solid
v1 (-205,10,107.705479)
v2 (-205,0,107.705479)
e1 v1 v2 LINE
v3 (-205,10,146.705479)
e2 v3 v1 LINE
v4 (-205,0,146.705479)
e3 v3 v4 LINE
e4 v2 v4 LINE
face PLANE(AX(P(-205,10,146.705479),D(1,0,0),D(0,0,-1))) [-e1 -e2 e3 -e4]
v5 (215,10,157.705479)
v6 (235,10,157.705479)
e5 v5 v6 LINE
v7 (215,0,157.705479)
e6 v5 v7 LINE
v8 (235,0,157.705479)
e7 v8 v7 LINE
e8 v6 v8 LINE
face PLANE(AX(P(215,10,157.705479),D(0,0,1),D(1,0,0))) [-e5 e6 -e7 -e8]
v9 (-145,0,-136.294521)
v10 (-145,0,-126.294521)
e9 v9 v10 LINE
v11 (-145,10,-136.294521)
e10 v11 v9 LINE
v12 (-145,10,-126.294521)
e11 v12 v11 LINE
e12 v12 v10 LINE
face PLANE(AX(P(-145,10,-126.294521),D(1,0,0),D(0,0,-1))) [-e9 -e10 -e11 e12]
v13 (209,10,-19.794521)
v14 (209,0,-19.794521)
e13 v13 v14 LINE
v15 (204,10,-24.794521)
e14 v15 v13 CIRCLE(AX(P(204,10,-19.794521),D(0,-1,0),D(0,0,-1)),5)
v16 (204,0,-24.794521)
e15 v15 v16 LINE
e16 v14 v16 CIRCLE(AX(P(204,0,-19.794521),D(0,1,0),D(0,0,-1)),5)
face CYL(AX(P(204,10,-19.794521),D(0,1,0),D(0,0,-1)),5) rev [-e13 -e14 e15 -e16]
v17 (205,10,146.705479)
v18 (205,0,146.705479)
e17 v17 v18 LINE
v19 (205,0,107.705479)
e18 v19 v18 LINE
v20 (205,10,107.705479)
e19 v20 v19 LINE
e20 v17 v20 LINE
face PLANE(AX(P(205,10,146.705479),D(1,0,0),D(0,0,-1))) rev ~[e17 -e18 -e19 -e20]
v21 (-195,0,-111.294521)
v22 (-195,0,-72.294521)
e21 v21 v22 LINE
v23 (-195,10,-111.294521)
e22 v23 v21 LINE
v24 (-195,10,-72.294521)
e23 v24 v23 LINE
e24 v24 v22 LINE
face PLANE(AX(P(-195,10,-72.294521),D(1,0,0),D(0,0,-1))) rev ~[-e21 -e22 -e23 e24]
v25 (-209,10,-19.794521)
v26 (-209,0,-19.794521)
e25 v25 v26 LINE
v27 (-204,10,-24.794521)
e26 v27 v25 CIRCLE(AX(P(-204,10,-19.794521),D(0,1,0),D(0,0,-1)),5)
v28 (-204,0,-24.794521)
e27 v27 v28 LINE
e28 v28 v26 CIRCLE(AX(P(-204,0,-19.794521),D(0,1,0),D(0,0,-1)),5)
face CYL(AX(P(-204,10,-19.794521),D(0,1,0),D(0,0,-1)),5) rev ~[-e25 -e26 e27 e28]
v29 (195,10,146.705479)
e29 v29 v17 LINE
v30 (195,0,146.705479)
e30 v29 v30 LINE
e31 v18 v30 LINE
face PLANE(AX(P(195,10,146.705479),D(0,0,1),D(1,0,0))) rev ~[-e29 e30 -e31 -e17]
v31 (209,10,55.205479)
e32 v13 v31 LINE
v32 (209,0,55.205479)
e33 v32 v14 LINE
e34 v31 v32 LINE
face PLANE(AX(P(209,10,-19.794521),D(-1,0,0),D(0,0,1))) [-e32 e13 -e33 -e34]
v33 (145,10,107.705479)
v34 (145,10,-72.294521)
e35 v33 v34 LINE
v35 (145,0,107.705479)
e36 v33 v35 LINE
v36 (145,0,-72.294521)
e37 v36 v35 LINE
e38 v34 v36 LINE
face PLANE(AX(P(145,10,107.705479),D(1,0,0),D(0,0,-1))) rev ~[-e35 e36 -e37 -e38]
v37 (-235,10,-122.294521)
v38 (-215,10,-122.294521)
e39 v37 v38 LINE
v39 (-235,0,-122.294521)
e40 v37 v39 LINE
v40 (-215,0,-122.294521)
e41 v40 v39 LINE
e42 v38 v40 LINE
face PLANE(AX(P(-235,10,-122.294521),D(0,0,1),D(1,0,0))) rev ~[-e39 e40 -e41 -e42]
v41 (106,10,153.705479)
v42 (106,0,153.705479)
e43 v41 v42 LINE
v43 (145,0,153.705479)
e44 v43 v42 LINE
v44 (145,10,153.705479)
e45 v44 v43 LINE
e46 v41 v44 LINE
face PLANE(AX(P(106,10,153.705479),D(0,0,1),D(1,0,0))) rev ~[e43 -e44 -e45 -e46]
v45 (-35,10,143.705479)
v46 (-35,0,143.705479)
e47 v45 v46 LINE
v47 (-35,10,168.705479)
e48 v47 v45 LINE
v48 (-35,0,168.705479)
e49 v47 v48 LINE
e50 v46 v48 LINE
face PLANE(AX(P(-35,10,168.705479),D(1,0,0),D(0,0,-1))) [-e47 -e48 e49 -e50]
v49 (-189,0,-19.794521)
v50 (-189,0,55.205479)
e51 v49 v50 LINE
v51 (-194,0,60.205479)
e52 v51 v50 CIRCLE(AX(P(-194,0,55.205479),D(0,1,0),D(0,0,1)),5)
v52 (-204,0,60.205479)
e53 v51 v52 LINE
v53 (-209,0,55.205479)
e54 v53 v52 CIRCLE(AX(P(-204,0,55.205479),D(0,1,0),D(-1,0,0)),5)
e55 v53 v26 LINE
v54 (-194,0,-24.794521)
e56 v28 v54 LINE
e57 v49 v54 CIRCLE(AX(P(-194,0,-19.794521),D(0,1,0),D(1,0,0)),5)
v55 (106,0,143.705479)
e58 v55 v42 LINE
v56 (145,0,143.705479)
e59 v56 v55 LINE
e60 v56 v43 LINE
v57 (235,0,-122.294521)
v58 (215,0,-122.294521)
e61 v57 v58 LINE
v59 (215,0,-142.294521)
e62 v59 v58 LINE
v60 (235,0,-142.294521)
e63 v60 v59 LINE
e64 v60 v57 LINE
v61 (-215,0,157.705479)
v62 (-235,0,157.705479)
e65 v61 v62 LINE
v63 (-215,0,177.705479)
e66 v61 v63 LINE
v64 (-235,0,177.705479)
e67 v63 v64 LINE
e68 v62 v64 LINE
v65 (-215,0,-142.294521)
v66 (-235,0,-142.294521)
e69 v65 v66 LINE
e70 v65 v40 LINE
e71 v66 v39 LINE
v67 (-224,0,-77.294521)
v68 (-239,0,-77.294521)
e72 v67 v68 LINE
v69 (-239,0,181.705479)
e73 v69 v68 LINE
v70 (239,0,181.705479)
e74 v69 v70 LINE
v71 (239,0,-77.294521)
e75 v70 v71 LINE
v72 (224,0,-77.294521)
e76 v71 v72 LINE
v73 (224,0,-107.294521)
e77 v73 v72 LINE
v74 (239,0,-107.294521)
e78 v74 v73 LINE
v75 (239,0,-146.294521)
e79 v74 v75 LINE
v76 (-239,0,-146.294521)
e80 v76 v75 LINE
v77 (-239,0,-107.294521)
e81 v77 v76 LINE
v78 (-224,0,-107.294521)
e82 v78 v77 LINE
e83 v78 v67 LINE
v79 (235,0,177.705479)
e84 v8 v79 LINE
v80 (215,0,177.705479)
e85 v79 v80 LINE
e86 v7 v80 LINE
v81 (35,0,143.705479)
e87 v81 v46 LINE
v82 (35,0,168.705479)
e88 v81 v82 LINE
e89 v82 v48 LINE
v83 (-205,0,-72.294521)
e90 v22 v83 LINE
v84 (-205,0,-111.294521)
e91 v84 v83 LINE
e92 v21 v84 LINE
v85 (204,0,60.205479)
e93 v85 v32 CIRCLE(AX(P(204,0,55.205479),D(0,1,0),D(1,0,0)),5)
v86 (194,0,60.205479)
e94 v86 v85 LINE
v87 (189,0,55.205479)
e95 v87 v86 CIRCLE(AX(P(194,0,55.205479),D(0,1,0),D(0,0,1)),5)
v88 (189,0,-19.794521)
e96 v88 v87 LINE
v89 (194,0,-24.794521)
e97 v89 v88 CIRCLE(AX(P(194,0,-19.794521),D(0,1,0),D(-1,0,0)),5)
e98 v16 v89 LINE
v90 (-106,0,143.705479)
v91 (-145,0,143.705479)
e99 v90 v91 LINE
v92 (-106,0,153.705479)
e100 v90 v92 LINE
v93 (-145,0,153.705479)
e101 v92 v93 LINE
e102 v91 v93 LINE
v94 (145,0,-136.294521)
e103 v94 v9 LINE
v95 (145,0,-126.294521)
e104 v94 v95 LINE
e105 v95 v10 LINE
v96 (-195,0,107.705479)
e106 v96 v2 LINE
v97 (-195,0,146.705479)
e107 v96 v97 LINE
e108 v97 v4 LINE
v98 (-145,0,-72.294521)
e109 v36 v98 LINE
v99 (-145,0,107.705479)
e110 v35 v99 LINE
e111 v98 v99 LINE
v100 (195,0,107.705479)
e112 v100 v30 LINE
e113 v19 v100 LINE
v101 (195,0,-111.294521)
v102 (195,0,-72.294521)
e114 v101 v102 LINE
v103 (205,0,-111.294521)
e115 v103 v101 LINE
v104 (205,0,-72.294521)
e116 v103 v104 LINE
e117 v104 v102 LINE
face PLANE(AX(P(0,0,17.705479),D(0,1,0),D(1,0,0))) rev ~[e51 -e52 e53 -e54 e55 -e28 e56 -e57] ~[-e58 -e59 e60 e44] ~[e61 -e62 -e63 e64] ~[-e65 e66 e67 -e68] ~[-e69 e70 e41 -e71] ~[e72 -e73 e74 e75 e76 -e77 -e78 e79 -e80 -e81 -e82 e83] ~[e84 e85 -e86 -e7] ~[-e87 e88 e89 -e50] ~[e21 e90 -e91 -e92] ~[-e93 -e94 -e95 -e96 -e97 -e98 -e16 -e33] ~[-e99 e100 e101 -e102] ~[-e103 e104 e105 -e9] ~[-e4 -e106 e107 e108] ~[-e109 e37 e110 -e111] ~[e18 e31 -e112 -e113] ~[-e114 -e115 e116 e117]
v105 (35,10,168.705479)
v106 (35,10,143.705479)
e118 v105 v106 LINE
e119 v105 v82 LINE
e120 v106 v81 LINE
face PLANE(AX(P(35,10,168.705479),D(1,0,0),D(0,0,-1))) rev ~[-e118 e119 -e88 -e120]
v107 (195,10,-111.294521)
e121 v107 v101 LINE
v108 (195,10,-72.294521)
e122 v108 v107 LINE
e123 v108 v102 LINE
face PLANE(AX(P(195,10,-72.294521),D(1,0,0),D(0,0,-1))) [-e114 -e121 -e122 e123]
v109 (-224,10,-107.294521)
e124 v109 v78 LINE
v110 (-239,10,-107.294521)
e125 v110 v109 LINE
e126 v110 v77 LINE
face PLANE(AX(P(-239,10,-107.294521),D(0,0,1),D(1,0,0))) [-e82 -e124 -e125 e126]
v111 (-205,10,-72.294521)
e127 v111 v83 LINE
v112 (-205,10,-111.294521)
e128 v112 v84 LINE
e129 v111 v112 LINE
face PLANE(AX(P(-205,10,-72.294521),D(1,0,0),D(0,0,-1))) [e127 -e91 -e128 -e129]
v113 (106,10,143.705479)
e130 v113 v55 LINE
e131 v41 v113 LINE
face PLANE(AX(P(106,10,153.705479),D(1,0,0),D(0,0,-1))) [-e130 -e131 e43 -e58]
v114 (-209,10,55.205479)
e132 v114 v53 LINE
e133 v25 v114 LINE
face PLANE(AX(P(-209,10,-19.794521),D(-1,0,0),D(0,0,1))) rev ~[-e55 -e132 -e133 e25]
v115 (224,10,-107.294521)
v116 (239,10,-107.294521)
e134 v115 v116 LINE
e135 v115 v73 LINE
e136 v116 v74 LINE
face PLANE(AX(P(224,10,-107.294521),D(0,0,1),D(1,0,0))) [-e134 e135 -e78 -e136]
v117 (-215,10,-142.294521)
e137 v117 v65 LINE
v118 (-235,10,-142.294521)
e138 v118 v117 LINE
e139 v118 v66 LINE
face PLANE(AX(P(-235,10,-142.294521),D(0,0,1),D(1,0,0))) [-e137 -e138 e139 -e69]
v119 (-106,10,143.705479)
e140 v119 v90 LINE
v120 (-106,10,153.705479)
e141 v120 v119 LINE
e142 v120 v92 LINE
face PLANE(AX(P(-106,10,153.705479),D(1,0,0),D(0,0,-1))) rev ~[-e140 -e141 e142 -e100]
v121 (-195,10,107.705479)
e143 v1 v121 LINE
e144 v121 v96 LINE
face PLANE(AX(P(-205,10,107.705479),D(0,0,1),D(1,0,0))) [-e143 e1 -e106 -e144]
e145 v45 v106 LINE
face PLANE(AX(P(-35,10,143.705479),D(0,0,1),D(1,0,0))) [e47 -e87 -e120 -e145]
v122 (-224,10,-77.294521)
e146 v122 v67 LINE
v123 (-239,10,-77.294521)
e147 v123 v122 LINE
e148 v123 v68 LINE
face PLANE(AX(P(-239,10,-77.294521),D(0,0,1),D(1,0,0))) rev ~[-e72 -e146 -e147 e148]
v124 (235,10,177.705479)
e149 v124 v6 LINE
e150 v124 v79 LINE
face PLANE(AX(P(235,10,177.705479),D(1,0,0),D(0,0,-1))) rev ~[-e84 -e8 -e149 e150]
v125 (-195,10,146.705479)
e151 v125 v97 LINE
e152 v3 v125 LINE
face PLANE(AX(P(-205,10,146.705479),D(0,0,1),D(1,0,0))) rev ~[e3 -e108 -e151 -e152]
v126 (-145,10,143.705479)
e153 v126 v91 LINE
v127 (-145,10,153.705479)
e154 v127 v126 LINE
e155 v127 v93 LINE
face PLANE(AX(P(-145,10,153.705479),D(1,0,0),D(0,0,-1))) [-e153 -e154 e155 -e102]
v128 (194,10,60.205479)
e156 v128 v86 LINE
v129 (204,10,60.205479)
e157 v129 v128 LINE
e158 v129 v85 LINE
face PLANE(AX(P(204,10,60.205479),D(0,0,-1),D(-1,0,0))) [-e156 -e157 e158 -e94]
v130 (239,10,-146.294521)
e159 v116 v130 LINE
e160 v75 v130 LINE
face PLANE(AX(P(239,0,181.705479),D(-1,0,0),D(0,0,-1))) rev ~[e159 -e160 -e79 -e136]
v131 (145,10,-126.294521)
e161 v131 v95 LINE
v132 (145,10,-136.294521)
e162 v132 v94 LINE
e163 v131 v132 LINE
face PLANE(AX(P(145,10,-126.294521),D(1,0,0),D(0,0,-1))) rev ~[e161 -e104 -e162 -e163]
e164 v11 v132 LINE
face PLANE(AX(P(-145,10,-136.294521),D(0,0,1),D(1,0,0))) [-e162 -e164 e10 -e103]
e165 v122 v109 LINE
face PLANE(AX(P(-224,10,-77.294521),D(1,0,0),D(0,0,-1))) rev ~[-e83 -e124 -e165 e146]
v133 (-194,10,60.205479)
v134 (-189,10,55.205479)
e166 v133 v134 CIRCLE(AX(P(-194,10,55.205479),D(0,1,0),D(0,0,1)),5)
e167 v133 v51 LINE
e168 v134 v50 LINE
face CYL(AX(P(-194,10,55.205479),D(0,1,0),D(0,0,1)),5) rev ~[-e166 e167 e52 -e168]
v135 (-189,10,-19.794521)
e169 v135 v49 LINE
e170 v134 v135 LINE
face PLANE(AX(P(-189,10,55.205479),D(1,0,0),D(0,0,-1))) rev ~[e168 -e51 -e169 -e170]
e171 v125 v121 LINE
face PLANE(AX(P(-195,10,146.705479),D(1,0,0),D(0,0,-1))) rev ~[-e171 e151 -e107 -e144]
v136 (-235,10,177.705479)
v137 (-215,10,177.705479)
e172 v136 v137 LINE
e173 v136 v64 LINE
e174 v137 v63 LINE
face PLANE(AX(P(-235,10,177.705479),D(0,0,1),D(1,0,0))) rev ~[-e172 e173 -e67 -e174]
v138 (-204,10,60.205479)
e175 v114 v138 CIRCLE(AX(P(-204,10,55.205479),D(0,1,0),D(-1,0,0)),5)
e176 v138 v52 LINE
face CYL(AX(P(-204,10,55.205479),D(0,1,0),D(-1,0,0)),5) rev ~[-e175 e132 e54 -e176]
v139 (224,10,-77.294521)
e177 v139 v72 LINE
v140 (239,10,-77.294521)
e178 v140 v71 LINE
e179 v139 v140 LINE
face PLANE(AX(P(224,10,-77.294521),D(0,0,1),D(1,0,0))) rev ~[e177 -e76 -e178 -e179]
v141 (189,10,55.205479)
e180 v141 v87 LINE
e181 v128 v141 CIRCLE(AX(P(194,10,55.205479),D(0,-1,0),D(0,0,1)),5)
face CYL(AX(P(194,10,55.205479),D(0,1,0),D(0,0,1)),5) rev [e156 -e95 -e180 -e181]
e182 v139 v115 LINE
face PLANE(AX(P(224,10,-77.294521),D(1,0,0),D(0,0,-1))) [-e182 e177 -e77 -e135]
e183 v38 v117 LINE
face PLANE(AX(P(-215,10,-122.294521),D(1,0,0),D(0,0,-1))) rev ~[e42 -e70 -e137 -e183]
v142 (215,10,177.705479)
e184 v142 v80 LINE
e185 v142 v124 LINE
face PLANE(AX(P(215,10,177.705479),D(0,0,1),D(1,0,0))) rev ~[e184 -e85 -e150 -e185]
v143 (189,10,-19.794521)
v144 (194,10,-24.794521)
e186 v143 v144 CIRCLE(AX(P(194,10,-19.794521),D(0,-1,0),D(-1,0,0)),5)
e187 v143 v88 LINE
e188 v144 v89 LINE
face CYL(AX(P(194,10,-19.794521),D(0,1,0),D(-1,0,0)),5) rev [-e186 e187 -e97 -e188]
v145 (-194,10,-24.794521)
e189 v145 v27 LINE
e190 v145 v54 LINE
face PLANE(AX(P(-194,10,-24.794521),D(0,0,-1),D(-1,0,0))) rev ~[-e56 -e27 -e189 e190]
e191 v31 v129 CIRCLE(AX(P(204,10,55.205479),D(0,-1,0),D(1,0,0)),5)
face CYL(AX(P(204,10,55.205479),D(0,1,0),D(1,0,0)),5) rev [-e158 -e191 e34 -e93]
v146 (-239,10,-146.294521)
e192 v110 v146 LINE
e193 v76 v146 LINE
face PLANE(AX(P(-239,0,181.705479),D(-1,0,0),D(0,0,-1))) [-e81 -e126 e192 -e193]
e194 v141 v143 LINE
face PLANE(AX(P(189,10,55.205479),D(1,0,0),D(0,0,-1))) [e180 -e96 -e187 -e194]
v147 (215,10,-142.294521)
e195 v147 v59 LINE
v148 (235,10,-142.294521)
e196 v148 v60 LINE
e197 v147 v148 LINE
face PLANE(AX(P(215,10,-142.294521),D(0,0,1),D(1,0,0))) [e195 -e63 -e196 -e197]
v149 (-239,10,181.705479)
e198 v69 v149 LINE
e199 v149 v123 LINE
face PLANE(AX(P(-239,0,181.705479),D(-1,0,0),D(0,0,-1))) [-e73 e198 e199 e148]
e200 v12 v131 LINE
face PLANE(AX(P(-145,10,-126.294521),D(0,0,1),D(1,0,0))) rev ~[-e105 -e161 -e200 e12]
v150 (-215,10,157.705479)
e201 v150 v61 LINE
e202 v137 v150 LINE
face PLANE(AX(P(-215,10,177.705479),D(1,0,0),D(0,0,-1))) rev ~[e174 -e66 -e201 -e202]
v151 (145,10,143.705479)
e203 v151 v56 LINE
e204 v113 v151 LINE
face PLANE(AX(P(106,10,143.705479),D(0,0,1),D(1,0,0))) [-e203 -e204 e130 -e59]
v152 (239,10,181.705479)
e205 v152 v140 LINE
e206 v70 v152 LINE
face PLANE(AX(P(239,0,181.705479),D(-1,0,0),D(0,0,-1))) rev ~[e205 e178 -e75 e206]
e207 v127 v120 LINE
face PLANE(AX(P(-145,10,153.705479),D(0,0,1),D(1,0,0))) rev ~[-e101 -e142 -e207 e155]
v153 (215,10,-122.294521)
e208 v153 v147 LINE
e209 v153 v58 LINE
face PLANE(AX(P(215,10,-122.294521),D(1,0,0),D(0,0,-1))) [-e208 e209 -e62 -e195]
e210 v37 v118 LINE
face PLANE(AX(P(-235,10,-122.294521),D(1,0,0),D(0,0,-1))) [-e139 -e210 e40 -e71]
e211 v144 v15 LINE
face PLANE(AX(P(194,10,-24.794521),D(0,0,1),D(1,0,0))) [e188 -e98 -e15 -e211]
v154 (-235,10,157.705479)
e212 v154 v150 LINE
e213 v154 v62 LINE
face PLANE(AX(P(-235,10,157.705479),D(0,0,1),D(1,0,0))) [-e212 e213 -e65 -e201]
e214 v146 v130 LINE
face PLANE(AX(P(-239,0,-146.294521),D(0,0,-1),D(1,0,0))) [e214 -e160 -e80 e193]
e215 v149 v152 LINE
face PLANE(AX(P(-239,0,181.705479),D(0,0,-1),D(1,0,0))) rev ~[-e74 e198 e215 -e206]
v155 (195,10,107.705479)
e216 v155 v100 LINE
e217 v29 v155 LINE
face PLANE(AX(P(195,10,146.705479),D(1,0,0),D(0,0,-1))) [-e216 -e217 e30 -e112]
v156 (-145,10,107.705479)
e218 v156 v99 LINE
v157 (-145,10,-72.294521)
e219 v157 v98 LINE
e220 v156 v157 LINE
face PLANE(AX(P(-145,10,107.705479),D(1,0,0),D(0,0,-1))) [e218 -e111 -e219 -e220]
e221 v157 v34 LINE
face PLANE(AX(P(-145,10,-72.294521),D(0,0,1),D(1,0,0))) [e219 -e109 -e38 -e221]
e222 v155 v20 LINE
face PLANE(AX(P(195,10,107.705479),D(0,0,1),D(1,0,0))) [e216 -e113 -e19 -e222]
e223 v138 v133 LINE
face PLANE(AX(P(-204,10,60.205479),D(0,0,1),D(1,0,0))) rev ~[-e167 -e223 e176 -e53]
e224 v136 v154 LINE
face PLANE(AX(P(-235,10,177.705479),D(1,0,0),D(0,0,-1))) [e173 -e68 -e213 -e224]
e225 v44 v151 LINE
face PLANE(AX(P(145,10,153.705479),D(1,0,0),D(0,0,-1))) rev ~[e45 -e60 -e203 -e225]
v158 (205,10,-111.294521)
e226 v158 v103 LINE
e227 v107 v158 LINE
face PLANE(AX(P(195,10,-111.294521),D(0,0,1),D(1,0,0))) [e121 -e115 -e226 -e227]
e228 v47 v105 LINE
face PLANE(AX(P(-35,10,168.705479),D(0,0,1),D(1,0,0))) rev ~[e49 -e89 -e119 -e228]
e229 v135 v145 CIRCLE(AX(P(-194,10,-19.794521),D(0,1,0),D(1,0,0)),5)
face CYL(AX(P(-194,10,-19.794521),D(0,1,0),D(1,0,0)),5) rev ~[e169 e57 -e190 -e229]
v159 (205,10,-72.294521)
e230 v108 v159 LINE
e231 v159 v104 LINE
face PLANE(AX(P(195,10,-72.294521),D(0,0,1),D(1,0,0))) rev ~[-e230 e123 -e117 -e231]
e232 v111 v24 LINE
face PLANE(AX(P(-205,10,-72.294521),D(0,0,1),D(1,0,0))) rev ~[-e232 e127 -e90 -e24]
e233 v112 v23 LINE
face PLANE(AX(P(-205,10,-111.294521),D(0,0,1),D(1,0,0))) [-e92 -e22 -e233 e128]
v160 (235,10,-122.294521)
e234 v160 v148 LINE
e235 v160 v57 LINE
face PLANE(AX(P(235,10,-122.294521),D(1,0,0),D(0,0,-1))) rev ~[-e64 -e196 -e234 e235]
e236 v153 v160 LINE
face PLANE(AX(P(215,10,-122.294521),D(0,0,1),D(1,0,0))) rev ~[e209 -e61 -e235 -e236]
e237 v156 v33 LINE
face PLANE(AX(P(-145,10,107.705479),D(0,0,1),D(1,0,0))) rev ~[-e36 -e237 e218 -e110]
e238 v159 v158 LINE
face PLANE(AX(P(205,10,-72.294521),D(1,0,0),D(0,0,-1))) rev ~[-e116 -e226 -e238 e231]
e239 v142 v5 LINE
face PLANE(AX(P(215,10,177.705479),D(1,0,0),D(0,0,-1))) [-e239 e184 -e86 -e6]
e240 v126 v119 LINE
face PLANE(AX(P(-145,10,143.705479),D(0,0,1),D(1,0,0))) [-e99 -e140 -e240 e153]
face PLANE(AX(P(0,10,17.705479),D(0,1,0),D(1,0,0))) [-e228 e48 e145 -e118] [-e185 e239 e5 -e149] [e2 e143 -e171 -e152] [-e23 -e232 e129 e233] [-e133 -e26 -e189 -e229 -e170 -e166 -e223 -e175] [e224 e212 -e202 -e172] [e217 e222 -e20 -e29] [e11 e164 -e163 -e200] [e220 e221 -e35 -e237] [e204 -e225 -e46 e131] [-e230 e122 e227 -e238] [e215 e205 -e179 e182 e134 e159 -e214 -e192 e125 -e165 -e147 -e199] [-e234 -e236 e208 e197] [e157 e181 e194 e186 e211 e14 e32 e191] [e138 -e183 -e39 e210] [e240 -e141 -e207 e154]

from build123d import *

# Parameters (mm, degrees)
SKETCH1_W           = 478
SKETCH1_H           = 328
BOSS_EXTRUDE1_DEPTH = 10
CUT_EXTRUDE1_REACH  = 302.396
SKETCH2_W           = 20
SKETCH2_H           = 20
CUT_EXTRUDE2_REACH  = 302.396
SKETCH3_W           = 290
SKETCH3_H           = 10
SKETCH3_W_2         = 10
SKETCH3_H_2         = 39
SKETCH3_W_3         = 39
SKETCH3_W_4         = 70
SKETCH3_H_3         = 25
SKETCH3_H_4         = 180
SKETCH3_W_5         = 15
SKETCH3_H_5         = 30


with BuildPart() as part:
    # Sketch1 → Boss-Extrude1 (new body)
    with BuildSketch(Plane(origin=(0, 0, 0), x_dir=(1, 0, 0), z_dir=(0, 1, 0))):
        with Locations((0, -17.705479187)):
            Rectangle(SKETCH1_W, SKETCH1_H)
    extrude(amount=BOSS_EXTRUDE1_DEPTH)

    # Sketch2 → Cut-Extrude1 (cut, up to next)
    with BuildSketch(Plane(origin=(0, 10, 0), x_dir=(1, 0, 0), z_dir=(0, 1, 0)), mode=Mode.PRIVATE) as cut_extrude1_sk1:
        with Locations((-225, 132.294520813)):
            Rectangle(SKETCH2_W, SKETCH2_H)
    cut_extrude1_tool1 = extrude(cut_extrude1_sk1.sketch, amount=-CUT_EXTRUDE1_REACH, mode=Mode.PRIVATE) & part.part
    # Sketch2 → Cut-Extrude1 (cut, up to next)
    with BuildSketch(Plane(origin=(0, 10, 0), x_dir=(1, 0, 0), z_dir=(0, 1, 0)), mode=Mode.PRIVATE) as cut_extrude1_sk2:
        with Locations((-225, -167.705479187)):
            Rectangle(SKETCH2_W, SKETCH2_H)
    cut_extrude1_tool2 = extrude(cut_extrude1_sk2.sketch, amount=-CUT_EXTRUDE1_REACH, mode=Mode.PRIVATE) & part.part
    # Sketch2 → Cut-Extrude1 (cut, up to next)
    with BuildSketch(Plane(origin=(0, 10, 0), x_dir=(1, 0, 0), z_dir=(0, 1, 0)), mode=Mode.PRIVATE) as cut_extrude1_sk3:
        with Locations((225, 132.294520813)):
            Rectangle(SKETCH2_W, SKETCH2_H)
    cut_extrude1_tool3 = extrude(cut_extrude1_sk3.sketch, amount=-CUT_EXTRUDE1_REACH, mode=Mode.PRIVATE) & part.part
    # Sketch2 → Cut-Extrude1 (cut, up to next)
    with BuildSketch(Plane(origin=(0, 10, 0), x_dir=(1, 0, 0), z_dir=(0, 1, 0)), mode=Mode.PRIVATE) as cut_extrude1_sk4:
        with Locations((225, -167.705479187)):
            Rectangle(SKETCH2_W, SKETCH2_H)
    cut_extrude1_tool4 = extrude(cut_extrude1_sk4.sketch, amount=-CUT_EXTRUDE1_REACH, mode=Mode.PRIVATE) & part.part
    add(cut_extrude1_tool1.solids().sort_by_distance((-225, 10, -132.294521))[0], mode=Mode.SUBTRACT)
    add(cut_extrude1_tool2.solids().sort_by_distance((-225, 10, 167.705479))[0], mode=Mode.SUBTRACT)
    add(cut_extrude1_tool3.solids().sort_by_distance((225, 10, -132.294521))[0], mode=Mode.SUBTRACT)
    add(cut_extrude1_tool4.solids().sort_by_distance((225, 10, 167.705479))[0], mode=Mode.SUBTRACT)

    # Sketch3 → Cut-Extrude2 (cut, up to next)
    with BuildSketch(Plane(origin=(0, 10, 0), x_dir=(1, 0, 0), z_dir=(0, 1, 0)), mode=Mode.PRIVATE) as cut_extrude2_sk1:
        with Locations((0, 131.294520813)):
            Rectangle(SKETCH3_W, SKETCH3_H)
    cut_extrude2_tool1 = extrude(cut_extrude2_sk1.sketch, amount=-CUT_EXTRUDE2_REACH, mode=Mode.PRIVATE) & part.part
    # Sketch3 → Cut-Extrude2 (cut, up to next)
    with BuildSketch(Plane(origin=(0, 10, 0), x_dir=(1, 0, 0), z_dir=(0, 1, 0)), mode=Mode.PRIVATE) as cut_extrude2_sk2:
        with Locations((-200, 91.794520813)):
            Rectangle(SKETCH3_W_2, SKETCH3_H_2)
    cut_extrude2_tool2 = extrude(cut_extrude2_sk2.sketch, amount=-CUT_EXTRUDE2_REACH, mode=Mode.PRIVATE) & part.part
    # Sketch3 → Cut-Extrude2 (cut, up to next)
    with BuildSketch(Plane(origin=(0, 10, 0), x_dir=(1, 0, 0), z_dir=(0, 1, 0)), mode=Mode.PRIVATE) as cut_extrude2_sk3:
        with Locations((200, 91.794520813)):
            Rectangle(SKETCH3_W_2, SKETCH3_H_2)
    cut_extrude2_tool3 = extrude(cut_extrude2_sk3.sketch, amount=-CUT_EXTRUDE2_REACH, mode=Mode.PRIVATE) & part.part
    # Sketch3 → Cut-Extrude2 (cut, up to next)
    with BuildSketch(Plane(origin=(0, 10, 0), x_dir=(1, 0, 0), z_dir=(0, 1, 0)), mode=Mode.PRIVATE) as cut_extrude2_sk4:
        with Locations((200, -127.205479187)):
            Rectangle(SKETCH3_W_2, SKETCH3_H_2)
    cut_extrude2_tool4 = extrude(cut_extrude2_sk4.sketch, amount=-CUT_EXTRUDE2_REACH, mode=Mode.PRIVATE) & part.part
    # Sketch3 → Cut-Extrude2 (cut, up to next)
    with BuildSketch(Plane(origin=(0, 10, 0), x_dir=(1, 0, 0), z_dir=(0, 1, 0)), mode=Mode.PRIVATE) as cut_extrude2_sk5:
        with Locations((-200, -127.205479187)):
            Rectangle(SKETCH3_W_2, SKETCH3_H_2)
    cut_extrude2_tool5 = extrude(cut_extrude2_sk5.sketch, amount=-CUT_EXTRUDE2_REACH, mode=Mode.PRIVATE) & part.part
    # Sketch3 → Cut-Extrude2 (cut, up to next)
    with BuildSketch(Plane(origin=(0, 10, 0), x_dir=(1, 0, 0), z_dir=(0, 1, 0)), mode=Mode.PRIVATE) as cut_extrude2_sk6:
        with Locations((-125.5, -148.705479187)):
            Rectangle(SKETCH3_W_3, SKETCH3_H)
    cut_extrude2_tool6 = extrude(cut_extrude2_sk6.sketch, amount=-CUT_EXTRUDE2_REACH, mode=Mode.PRIVATE) & part.part
    # Sketch3 → Cut-Extrude2 (cut, up to next)
    with BuildSketch(Plane(origin=(0, 10, 0), x_dir=(1, 0, 0), z_dir=(0, 1, 0)), mode=Mode.PRIVATE) as cut_extrude2_sk7:
        with Locations((125.5, -148.705479187)):
            Rectangle(SKETCH3_W_3, SKETCH3_H)
    cut_extrude2_tool7 = extrude(cut_extrude2_sk7.sketch, amount=-CUT_EXTRUDE2_REACH, mode=Mode.PRIVATE) & part.part
    # Sketch3 → Cut-Extrude2 (cut, up to next)
    with BuildSketch(Plane(origin=(0, 10, 0), x_dir=(1, 0, 0), z_dir=(0, 1, 0)), mode=Mode.PRIVATE) as cut_extrude2_sk8:
        with Locations((0, -156.205479187)):
            Rectangle(SKETCH3_W_4, SKETCH3_H_3)
    cut_extrude2_tool8 = extrude(cut_extrude2_sk8.sketch, amount=-CUT_EXTRUDE2_REACH, mode=Mode.PRIVATE) & part.part
    # Sketch3 → Cut-Extrude2 (cut, up to next)
    with BuildSketch(Plane(origin=(0, 10, 0), x_dir=(1, 0, 0), z_dir=(0, 1, 0)), mode=Mode.PRIVATE) as cut_extrude2_sk9:
        with BuildLine():
            Line((-204, -60.205479187), (-194, -60.205479187))
            ThreePointArc((-194, -60.205479187), (-190.464466094, -58.741013093), (-189, -55.205479187))
            Line((-189, -55.205479187), (-189, 19.794520813))
            ThreePointArc((-189, 19.794520813), (-190.464466094, 23.330054719), (-194, 24.794520813))
            Line((-194, 24.794520813), (-204, 24.794520813))
            ThreePointArc((-204, 24.794520813), (-207.535533906, 23.330054719), (-209, 19.794520813))
            Line((-209, 19.794520813), (-209, -55.205479187))
            ThreePointArc((-209, -55.205479187), (-207.535533906, -58.741013093), (-204, -60.205479187))
        make_face()
    cut_extrude2_tool9 = extrude(cut_extrude2_sk9.sketch, amount=-CUT_EXTRUDE2_REACH, mode=Mode.PRIVATE) & part.part
    # Sketch3 → Cut-Extrude2 (cut, up to next)
    with BuildSketch(Plane(origin=(0, 10, 0), x_dir=(1, 0, 0), z_dir=(0, 1, 0)), mode=Mode.PRIVATE) as cut_extrude2_sk10:
        with BuildLine():
            Line((189, -55.205479187), (189, 19.794520813))
            ThreePointArc((189, 19.794520813), (190.464466094, 23.330054719), (194, 24.794520813))
            Line((194, 24.794520813), (204, 24.794520813))
            ThreePointArc((204, 24.794520813), (207.535533906, 23.330054719), (209, 19.794520813))
            Line((209, 19.794520813), (209, -55.205479187))
            ThreePointArc((209, -55.205479187), (207.535533906, -58.741013093), (204, -60.205479187))
            Line((204, -60.205479187), (194, -60.205479187))
            ThreePointArc((194, -60.205479187), (190.464466094, -58.741013093), (189, -55.205479187))
        make_face()
    cut_extrude2_tool10 = extrude(cut_extrude2_sk10.sketch, amount=-CUT_EXTRUDE2_REACH, mode=Mode.PRIVATE) & part.part
    # Sketch3 → Cut-Extrude2 (cut, up to next)
    with BuildSketch(Plane(origin=(0, 10, 0), x_dir=(1, 0, 0), z_dir=(0, 1, 0)), mode=Mode.PRIVATE) as cut_extrude2_sk11:
        with Locations((0, -17.705479187)):
            Rectangle(SKETCH3_W, SKETCH3_H_4)
    cut_extrude2_tool11 = extrude(cut_extrude2_sk11.sketch, amount=-CUT_EXTRUDE2_REACH, mode=Mode.PRIVATE) & part.part
    # Sketch3 → Cut-Extrude2 (cut, up to next)
    with BuildSketch(Plane(origin=(0, 10, 0), x_dir=(1, 0, 0), z_dir=(0, 1, 0)), mode=Mode.PRIVATE) as cut_extrude2_sk12:
        with Locations((-231.5, 92.294520813)):
            Rectangle(SKETCH3_W_5, SKETCH3_H_5)
    cut_extrude2_tool12 = extrude(cut_extrude2_sk12.sketch, amount=-CUT_EXTRUDE2_REACH, mode=Mode.PRIVATE) & part.part
    # Sketch3 → Cut-Extrude2 (cut, up to next)
    with BuildSketch(Plane(origin=(0, 10, 0), x_dir=(1, 0, 0), z_dir=(0, 1, 0)), mode=Mode.PRIVATE) as cut_extrude2_sk13:
        with Locations((231.5, 92.294520813)):
            Rectangle(SKETCH3_W_5, SKETCH3_H_5)
    cut_extrude2_tool13 = extrude(cut_extrude2_sk13.sketch, amount=-CUT_EXTRUDE2_REACH, mode=Mode.PRIVATE) & part.part
    add(cut_extrude2_tool1.solids().sort_by_distance((0, 10, -131.294521))[0], mode=Mode.SUBTRACT)
    add(cut_extrude2_tool2.solids().sort_by_distance((-200, 10, -91.794521))[0], mode=Mode.SUBTRACT)
    add(cut_extrude2_tool3.solids().sort_by_distance((200, 10, -91.794521))[0], mode=Mode.SUBTRACT)
    add(cut_extrude2_tool4.solids().sort_by_distance((200, 10, 127.205479))[0], mode=Mode.SUBTRACT)
    add(cut_extrude2_tool5.solids().sort_by_distance((-200, 10, 127.205479))[0], mode=Mode.SUBTRACT)
    add(cut_extrude2_tool6.solids().sort_by_distance((-125.5, 10, 148.705479))[0], mode=Mode.SUBTRACT)
    add(cut_extrude2_tool7.solids().sort_by_distance((125.5, 10, 148.705479))[0], mode=Mode.SUBTRACT)
    add(cut_extrude2_tool8.solids().sort_by_distance((0, 10, 156.205479))[0], mode=Mode.SUBTRACT)
    add(cut_extrude2_tool9.solids().sort_by_distance((-199, 10, 17.705479))[0], mode=Mode.SUBTRACT)
    add(cut_extrude2_tool10.solids().sort_by_distance((199, 10, 17.705479))[0], mode=Mode.SUBTRACT)
    add(cut_extrude2_tool11.solids().sort_by_distance((0, 10, 17.705479))[0], mode=Mode.SUBTRACT)
    add(cut_extrude2_tool12.solids().sort_by_distance((-231.5, 10, -92.294521))[0], mode=Mode.SUBTRACT)
    add(cut_extrude2_tool13.solids().sort_by_distance((231.5, 10, -92.294521))[0], mode=Mode.SUBTRACT)


solid = part.part
